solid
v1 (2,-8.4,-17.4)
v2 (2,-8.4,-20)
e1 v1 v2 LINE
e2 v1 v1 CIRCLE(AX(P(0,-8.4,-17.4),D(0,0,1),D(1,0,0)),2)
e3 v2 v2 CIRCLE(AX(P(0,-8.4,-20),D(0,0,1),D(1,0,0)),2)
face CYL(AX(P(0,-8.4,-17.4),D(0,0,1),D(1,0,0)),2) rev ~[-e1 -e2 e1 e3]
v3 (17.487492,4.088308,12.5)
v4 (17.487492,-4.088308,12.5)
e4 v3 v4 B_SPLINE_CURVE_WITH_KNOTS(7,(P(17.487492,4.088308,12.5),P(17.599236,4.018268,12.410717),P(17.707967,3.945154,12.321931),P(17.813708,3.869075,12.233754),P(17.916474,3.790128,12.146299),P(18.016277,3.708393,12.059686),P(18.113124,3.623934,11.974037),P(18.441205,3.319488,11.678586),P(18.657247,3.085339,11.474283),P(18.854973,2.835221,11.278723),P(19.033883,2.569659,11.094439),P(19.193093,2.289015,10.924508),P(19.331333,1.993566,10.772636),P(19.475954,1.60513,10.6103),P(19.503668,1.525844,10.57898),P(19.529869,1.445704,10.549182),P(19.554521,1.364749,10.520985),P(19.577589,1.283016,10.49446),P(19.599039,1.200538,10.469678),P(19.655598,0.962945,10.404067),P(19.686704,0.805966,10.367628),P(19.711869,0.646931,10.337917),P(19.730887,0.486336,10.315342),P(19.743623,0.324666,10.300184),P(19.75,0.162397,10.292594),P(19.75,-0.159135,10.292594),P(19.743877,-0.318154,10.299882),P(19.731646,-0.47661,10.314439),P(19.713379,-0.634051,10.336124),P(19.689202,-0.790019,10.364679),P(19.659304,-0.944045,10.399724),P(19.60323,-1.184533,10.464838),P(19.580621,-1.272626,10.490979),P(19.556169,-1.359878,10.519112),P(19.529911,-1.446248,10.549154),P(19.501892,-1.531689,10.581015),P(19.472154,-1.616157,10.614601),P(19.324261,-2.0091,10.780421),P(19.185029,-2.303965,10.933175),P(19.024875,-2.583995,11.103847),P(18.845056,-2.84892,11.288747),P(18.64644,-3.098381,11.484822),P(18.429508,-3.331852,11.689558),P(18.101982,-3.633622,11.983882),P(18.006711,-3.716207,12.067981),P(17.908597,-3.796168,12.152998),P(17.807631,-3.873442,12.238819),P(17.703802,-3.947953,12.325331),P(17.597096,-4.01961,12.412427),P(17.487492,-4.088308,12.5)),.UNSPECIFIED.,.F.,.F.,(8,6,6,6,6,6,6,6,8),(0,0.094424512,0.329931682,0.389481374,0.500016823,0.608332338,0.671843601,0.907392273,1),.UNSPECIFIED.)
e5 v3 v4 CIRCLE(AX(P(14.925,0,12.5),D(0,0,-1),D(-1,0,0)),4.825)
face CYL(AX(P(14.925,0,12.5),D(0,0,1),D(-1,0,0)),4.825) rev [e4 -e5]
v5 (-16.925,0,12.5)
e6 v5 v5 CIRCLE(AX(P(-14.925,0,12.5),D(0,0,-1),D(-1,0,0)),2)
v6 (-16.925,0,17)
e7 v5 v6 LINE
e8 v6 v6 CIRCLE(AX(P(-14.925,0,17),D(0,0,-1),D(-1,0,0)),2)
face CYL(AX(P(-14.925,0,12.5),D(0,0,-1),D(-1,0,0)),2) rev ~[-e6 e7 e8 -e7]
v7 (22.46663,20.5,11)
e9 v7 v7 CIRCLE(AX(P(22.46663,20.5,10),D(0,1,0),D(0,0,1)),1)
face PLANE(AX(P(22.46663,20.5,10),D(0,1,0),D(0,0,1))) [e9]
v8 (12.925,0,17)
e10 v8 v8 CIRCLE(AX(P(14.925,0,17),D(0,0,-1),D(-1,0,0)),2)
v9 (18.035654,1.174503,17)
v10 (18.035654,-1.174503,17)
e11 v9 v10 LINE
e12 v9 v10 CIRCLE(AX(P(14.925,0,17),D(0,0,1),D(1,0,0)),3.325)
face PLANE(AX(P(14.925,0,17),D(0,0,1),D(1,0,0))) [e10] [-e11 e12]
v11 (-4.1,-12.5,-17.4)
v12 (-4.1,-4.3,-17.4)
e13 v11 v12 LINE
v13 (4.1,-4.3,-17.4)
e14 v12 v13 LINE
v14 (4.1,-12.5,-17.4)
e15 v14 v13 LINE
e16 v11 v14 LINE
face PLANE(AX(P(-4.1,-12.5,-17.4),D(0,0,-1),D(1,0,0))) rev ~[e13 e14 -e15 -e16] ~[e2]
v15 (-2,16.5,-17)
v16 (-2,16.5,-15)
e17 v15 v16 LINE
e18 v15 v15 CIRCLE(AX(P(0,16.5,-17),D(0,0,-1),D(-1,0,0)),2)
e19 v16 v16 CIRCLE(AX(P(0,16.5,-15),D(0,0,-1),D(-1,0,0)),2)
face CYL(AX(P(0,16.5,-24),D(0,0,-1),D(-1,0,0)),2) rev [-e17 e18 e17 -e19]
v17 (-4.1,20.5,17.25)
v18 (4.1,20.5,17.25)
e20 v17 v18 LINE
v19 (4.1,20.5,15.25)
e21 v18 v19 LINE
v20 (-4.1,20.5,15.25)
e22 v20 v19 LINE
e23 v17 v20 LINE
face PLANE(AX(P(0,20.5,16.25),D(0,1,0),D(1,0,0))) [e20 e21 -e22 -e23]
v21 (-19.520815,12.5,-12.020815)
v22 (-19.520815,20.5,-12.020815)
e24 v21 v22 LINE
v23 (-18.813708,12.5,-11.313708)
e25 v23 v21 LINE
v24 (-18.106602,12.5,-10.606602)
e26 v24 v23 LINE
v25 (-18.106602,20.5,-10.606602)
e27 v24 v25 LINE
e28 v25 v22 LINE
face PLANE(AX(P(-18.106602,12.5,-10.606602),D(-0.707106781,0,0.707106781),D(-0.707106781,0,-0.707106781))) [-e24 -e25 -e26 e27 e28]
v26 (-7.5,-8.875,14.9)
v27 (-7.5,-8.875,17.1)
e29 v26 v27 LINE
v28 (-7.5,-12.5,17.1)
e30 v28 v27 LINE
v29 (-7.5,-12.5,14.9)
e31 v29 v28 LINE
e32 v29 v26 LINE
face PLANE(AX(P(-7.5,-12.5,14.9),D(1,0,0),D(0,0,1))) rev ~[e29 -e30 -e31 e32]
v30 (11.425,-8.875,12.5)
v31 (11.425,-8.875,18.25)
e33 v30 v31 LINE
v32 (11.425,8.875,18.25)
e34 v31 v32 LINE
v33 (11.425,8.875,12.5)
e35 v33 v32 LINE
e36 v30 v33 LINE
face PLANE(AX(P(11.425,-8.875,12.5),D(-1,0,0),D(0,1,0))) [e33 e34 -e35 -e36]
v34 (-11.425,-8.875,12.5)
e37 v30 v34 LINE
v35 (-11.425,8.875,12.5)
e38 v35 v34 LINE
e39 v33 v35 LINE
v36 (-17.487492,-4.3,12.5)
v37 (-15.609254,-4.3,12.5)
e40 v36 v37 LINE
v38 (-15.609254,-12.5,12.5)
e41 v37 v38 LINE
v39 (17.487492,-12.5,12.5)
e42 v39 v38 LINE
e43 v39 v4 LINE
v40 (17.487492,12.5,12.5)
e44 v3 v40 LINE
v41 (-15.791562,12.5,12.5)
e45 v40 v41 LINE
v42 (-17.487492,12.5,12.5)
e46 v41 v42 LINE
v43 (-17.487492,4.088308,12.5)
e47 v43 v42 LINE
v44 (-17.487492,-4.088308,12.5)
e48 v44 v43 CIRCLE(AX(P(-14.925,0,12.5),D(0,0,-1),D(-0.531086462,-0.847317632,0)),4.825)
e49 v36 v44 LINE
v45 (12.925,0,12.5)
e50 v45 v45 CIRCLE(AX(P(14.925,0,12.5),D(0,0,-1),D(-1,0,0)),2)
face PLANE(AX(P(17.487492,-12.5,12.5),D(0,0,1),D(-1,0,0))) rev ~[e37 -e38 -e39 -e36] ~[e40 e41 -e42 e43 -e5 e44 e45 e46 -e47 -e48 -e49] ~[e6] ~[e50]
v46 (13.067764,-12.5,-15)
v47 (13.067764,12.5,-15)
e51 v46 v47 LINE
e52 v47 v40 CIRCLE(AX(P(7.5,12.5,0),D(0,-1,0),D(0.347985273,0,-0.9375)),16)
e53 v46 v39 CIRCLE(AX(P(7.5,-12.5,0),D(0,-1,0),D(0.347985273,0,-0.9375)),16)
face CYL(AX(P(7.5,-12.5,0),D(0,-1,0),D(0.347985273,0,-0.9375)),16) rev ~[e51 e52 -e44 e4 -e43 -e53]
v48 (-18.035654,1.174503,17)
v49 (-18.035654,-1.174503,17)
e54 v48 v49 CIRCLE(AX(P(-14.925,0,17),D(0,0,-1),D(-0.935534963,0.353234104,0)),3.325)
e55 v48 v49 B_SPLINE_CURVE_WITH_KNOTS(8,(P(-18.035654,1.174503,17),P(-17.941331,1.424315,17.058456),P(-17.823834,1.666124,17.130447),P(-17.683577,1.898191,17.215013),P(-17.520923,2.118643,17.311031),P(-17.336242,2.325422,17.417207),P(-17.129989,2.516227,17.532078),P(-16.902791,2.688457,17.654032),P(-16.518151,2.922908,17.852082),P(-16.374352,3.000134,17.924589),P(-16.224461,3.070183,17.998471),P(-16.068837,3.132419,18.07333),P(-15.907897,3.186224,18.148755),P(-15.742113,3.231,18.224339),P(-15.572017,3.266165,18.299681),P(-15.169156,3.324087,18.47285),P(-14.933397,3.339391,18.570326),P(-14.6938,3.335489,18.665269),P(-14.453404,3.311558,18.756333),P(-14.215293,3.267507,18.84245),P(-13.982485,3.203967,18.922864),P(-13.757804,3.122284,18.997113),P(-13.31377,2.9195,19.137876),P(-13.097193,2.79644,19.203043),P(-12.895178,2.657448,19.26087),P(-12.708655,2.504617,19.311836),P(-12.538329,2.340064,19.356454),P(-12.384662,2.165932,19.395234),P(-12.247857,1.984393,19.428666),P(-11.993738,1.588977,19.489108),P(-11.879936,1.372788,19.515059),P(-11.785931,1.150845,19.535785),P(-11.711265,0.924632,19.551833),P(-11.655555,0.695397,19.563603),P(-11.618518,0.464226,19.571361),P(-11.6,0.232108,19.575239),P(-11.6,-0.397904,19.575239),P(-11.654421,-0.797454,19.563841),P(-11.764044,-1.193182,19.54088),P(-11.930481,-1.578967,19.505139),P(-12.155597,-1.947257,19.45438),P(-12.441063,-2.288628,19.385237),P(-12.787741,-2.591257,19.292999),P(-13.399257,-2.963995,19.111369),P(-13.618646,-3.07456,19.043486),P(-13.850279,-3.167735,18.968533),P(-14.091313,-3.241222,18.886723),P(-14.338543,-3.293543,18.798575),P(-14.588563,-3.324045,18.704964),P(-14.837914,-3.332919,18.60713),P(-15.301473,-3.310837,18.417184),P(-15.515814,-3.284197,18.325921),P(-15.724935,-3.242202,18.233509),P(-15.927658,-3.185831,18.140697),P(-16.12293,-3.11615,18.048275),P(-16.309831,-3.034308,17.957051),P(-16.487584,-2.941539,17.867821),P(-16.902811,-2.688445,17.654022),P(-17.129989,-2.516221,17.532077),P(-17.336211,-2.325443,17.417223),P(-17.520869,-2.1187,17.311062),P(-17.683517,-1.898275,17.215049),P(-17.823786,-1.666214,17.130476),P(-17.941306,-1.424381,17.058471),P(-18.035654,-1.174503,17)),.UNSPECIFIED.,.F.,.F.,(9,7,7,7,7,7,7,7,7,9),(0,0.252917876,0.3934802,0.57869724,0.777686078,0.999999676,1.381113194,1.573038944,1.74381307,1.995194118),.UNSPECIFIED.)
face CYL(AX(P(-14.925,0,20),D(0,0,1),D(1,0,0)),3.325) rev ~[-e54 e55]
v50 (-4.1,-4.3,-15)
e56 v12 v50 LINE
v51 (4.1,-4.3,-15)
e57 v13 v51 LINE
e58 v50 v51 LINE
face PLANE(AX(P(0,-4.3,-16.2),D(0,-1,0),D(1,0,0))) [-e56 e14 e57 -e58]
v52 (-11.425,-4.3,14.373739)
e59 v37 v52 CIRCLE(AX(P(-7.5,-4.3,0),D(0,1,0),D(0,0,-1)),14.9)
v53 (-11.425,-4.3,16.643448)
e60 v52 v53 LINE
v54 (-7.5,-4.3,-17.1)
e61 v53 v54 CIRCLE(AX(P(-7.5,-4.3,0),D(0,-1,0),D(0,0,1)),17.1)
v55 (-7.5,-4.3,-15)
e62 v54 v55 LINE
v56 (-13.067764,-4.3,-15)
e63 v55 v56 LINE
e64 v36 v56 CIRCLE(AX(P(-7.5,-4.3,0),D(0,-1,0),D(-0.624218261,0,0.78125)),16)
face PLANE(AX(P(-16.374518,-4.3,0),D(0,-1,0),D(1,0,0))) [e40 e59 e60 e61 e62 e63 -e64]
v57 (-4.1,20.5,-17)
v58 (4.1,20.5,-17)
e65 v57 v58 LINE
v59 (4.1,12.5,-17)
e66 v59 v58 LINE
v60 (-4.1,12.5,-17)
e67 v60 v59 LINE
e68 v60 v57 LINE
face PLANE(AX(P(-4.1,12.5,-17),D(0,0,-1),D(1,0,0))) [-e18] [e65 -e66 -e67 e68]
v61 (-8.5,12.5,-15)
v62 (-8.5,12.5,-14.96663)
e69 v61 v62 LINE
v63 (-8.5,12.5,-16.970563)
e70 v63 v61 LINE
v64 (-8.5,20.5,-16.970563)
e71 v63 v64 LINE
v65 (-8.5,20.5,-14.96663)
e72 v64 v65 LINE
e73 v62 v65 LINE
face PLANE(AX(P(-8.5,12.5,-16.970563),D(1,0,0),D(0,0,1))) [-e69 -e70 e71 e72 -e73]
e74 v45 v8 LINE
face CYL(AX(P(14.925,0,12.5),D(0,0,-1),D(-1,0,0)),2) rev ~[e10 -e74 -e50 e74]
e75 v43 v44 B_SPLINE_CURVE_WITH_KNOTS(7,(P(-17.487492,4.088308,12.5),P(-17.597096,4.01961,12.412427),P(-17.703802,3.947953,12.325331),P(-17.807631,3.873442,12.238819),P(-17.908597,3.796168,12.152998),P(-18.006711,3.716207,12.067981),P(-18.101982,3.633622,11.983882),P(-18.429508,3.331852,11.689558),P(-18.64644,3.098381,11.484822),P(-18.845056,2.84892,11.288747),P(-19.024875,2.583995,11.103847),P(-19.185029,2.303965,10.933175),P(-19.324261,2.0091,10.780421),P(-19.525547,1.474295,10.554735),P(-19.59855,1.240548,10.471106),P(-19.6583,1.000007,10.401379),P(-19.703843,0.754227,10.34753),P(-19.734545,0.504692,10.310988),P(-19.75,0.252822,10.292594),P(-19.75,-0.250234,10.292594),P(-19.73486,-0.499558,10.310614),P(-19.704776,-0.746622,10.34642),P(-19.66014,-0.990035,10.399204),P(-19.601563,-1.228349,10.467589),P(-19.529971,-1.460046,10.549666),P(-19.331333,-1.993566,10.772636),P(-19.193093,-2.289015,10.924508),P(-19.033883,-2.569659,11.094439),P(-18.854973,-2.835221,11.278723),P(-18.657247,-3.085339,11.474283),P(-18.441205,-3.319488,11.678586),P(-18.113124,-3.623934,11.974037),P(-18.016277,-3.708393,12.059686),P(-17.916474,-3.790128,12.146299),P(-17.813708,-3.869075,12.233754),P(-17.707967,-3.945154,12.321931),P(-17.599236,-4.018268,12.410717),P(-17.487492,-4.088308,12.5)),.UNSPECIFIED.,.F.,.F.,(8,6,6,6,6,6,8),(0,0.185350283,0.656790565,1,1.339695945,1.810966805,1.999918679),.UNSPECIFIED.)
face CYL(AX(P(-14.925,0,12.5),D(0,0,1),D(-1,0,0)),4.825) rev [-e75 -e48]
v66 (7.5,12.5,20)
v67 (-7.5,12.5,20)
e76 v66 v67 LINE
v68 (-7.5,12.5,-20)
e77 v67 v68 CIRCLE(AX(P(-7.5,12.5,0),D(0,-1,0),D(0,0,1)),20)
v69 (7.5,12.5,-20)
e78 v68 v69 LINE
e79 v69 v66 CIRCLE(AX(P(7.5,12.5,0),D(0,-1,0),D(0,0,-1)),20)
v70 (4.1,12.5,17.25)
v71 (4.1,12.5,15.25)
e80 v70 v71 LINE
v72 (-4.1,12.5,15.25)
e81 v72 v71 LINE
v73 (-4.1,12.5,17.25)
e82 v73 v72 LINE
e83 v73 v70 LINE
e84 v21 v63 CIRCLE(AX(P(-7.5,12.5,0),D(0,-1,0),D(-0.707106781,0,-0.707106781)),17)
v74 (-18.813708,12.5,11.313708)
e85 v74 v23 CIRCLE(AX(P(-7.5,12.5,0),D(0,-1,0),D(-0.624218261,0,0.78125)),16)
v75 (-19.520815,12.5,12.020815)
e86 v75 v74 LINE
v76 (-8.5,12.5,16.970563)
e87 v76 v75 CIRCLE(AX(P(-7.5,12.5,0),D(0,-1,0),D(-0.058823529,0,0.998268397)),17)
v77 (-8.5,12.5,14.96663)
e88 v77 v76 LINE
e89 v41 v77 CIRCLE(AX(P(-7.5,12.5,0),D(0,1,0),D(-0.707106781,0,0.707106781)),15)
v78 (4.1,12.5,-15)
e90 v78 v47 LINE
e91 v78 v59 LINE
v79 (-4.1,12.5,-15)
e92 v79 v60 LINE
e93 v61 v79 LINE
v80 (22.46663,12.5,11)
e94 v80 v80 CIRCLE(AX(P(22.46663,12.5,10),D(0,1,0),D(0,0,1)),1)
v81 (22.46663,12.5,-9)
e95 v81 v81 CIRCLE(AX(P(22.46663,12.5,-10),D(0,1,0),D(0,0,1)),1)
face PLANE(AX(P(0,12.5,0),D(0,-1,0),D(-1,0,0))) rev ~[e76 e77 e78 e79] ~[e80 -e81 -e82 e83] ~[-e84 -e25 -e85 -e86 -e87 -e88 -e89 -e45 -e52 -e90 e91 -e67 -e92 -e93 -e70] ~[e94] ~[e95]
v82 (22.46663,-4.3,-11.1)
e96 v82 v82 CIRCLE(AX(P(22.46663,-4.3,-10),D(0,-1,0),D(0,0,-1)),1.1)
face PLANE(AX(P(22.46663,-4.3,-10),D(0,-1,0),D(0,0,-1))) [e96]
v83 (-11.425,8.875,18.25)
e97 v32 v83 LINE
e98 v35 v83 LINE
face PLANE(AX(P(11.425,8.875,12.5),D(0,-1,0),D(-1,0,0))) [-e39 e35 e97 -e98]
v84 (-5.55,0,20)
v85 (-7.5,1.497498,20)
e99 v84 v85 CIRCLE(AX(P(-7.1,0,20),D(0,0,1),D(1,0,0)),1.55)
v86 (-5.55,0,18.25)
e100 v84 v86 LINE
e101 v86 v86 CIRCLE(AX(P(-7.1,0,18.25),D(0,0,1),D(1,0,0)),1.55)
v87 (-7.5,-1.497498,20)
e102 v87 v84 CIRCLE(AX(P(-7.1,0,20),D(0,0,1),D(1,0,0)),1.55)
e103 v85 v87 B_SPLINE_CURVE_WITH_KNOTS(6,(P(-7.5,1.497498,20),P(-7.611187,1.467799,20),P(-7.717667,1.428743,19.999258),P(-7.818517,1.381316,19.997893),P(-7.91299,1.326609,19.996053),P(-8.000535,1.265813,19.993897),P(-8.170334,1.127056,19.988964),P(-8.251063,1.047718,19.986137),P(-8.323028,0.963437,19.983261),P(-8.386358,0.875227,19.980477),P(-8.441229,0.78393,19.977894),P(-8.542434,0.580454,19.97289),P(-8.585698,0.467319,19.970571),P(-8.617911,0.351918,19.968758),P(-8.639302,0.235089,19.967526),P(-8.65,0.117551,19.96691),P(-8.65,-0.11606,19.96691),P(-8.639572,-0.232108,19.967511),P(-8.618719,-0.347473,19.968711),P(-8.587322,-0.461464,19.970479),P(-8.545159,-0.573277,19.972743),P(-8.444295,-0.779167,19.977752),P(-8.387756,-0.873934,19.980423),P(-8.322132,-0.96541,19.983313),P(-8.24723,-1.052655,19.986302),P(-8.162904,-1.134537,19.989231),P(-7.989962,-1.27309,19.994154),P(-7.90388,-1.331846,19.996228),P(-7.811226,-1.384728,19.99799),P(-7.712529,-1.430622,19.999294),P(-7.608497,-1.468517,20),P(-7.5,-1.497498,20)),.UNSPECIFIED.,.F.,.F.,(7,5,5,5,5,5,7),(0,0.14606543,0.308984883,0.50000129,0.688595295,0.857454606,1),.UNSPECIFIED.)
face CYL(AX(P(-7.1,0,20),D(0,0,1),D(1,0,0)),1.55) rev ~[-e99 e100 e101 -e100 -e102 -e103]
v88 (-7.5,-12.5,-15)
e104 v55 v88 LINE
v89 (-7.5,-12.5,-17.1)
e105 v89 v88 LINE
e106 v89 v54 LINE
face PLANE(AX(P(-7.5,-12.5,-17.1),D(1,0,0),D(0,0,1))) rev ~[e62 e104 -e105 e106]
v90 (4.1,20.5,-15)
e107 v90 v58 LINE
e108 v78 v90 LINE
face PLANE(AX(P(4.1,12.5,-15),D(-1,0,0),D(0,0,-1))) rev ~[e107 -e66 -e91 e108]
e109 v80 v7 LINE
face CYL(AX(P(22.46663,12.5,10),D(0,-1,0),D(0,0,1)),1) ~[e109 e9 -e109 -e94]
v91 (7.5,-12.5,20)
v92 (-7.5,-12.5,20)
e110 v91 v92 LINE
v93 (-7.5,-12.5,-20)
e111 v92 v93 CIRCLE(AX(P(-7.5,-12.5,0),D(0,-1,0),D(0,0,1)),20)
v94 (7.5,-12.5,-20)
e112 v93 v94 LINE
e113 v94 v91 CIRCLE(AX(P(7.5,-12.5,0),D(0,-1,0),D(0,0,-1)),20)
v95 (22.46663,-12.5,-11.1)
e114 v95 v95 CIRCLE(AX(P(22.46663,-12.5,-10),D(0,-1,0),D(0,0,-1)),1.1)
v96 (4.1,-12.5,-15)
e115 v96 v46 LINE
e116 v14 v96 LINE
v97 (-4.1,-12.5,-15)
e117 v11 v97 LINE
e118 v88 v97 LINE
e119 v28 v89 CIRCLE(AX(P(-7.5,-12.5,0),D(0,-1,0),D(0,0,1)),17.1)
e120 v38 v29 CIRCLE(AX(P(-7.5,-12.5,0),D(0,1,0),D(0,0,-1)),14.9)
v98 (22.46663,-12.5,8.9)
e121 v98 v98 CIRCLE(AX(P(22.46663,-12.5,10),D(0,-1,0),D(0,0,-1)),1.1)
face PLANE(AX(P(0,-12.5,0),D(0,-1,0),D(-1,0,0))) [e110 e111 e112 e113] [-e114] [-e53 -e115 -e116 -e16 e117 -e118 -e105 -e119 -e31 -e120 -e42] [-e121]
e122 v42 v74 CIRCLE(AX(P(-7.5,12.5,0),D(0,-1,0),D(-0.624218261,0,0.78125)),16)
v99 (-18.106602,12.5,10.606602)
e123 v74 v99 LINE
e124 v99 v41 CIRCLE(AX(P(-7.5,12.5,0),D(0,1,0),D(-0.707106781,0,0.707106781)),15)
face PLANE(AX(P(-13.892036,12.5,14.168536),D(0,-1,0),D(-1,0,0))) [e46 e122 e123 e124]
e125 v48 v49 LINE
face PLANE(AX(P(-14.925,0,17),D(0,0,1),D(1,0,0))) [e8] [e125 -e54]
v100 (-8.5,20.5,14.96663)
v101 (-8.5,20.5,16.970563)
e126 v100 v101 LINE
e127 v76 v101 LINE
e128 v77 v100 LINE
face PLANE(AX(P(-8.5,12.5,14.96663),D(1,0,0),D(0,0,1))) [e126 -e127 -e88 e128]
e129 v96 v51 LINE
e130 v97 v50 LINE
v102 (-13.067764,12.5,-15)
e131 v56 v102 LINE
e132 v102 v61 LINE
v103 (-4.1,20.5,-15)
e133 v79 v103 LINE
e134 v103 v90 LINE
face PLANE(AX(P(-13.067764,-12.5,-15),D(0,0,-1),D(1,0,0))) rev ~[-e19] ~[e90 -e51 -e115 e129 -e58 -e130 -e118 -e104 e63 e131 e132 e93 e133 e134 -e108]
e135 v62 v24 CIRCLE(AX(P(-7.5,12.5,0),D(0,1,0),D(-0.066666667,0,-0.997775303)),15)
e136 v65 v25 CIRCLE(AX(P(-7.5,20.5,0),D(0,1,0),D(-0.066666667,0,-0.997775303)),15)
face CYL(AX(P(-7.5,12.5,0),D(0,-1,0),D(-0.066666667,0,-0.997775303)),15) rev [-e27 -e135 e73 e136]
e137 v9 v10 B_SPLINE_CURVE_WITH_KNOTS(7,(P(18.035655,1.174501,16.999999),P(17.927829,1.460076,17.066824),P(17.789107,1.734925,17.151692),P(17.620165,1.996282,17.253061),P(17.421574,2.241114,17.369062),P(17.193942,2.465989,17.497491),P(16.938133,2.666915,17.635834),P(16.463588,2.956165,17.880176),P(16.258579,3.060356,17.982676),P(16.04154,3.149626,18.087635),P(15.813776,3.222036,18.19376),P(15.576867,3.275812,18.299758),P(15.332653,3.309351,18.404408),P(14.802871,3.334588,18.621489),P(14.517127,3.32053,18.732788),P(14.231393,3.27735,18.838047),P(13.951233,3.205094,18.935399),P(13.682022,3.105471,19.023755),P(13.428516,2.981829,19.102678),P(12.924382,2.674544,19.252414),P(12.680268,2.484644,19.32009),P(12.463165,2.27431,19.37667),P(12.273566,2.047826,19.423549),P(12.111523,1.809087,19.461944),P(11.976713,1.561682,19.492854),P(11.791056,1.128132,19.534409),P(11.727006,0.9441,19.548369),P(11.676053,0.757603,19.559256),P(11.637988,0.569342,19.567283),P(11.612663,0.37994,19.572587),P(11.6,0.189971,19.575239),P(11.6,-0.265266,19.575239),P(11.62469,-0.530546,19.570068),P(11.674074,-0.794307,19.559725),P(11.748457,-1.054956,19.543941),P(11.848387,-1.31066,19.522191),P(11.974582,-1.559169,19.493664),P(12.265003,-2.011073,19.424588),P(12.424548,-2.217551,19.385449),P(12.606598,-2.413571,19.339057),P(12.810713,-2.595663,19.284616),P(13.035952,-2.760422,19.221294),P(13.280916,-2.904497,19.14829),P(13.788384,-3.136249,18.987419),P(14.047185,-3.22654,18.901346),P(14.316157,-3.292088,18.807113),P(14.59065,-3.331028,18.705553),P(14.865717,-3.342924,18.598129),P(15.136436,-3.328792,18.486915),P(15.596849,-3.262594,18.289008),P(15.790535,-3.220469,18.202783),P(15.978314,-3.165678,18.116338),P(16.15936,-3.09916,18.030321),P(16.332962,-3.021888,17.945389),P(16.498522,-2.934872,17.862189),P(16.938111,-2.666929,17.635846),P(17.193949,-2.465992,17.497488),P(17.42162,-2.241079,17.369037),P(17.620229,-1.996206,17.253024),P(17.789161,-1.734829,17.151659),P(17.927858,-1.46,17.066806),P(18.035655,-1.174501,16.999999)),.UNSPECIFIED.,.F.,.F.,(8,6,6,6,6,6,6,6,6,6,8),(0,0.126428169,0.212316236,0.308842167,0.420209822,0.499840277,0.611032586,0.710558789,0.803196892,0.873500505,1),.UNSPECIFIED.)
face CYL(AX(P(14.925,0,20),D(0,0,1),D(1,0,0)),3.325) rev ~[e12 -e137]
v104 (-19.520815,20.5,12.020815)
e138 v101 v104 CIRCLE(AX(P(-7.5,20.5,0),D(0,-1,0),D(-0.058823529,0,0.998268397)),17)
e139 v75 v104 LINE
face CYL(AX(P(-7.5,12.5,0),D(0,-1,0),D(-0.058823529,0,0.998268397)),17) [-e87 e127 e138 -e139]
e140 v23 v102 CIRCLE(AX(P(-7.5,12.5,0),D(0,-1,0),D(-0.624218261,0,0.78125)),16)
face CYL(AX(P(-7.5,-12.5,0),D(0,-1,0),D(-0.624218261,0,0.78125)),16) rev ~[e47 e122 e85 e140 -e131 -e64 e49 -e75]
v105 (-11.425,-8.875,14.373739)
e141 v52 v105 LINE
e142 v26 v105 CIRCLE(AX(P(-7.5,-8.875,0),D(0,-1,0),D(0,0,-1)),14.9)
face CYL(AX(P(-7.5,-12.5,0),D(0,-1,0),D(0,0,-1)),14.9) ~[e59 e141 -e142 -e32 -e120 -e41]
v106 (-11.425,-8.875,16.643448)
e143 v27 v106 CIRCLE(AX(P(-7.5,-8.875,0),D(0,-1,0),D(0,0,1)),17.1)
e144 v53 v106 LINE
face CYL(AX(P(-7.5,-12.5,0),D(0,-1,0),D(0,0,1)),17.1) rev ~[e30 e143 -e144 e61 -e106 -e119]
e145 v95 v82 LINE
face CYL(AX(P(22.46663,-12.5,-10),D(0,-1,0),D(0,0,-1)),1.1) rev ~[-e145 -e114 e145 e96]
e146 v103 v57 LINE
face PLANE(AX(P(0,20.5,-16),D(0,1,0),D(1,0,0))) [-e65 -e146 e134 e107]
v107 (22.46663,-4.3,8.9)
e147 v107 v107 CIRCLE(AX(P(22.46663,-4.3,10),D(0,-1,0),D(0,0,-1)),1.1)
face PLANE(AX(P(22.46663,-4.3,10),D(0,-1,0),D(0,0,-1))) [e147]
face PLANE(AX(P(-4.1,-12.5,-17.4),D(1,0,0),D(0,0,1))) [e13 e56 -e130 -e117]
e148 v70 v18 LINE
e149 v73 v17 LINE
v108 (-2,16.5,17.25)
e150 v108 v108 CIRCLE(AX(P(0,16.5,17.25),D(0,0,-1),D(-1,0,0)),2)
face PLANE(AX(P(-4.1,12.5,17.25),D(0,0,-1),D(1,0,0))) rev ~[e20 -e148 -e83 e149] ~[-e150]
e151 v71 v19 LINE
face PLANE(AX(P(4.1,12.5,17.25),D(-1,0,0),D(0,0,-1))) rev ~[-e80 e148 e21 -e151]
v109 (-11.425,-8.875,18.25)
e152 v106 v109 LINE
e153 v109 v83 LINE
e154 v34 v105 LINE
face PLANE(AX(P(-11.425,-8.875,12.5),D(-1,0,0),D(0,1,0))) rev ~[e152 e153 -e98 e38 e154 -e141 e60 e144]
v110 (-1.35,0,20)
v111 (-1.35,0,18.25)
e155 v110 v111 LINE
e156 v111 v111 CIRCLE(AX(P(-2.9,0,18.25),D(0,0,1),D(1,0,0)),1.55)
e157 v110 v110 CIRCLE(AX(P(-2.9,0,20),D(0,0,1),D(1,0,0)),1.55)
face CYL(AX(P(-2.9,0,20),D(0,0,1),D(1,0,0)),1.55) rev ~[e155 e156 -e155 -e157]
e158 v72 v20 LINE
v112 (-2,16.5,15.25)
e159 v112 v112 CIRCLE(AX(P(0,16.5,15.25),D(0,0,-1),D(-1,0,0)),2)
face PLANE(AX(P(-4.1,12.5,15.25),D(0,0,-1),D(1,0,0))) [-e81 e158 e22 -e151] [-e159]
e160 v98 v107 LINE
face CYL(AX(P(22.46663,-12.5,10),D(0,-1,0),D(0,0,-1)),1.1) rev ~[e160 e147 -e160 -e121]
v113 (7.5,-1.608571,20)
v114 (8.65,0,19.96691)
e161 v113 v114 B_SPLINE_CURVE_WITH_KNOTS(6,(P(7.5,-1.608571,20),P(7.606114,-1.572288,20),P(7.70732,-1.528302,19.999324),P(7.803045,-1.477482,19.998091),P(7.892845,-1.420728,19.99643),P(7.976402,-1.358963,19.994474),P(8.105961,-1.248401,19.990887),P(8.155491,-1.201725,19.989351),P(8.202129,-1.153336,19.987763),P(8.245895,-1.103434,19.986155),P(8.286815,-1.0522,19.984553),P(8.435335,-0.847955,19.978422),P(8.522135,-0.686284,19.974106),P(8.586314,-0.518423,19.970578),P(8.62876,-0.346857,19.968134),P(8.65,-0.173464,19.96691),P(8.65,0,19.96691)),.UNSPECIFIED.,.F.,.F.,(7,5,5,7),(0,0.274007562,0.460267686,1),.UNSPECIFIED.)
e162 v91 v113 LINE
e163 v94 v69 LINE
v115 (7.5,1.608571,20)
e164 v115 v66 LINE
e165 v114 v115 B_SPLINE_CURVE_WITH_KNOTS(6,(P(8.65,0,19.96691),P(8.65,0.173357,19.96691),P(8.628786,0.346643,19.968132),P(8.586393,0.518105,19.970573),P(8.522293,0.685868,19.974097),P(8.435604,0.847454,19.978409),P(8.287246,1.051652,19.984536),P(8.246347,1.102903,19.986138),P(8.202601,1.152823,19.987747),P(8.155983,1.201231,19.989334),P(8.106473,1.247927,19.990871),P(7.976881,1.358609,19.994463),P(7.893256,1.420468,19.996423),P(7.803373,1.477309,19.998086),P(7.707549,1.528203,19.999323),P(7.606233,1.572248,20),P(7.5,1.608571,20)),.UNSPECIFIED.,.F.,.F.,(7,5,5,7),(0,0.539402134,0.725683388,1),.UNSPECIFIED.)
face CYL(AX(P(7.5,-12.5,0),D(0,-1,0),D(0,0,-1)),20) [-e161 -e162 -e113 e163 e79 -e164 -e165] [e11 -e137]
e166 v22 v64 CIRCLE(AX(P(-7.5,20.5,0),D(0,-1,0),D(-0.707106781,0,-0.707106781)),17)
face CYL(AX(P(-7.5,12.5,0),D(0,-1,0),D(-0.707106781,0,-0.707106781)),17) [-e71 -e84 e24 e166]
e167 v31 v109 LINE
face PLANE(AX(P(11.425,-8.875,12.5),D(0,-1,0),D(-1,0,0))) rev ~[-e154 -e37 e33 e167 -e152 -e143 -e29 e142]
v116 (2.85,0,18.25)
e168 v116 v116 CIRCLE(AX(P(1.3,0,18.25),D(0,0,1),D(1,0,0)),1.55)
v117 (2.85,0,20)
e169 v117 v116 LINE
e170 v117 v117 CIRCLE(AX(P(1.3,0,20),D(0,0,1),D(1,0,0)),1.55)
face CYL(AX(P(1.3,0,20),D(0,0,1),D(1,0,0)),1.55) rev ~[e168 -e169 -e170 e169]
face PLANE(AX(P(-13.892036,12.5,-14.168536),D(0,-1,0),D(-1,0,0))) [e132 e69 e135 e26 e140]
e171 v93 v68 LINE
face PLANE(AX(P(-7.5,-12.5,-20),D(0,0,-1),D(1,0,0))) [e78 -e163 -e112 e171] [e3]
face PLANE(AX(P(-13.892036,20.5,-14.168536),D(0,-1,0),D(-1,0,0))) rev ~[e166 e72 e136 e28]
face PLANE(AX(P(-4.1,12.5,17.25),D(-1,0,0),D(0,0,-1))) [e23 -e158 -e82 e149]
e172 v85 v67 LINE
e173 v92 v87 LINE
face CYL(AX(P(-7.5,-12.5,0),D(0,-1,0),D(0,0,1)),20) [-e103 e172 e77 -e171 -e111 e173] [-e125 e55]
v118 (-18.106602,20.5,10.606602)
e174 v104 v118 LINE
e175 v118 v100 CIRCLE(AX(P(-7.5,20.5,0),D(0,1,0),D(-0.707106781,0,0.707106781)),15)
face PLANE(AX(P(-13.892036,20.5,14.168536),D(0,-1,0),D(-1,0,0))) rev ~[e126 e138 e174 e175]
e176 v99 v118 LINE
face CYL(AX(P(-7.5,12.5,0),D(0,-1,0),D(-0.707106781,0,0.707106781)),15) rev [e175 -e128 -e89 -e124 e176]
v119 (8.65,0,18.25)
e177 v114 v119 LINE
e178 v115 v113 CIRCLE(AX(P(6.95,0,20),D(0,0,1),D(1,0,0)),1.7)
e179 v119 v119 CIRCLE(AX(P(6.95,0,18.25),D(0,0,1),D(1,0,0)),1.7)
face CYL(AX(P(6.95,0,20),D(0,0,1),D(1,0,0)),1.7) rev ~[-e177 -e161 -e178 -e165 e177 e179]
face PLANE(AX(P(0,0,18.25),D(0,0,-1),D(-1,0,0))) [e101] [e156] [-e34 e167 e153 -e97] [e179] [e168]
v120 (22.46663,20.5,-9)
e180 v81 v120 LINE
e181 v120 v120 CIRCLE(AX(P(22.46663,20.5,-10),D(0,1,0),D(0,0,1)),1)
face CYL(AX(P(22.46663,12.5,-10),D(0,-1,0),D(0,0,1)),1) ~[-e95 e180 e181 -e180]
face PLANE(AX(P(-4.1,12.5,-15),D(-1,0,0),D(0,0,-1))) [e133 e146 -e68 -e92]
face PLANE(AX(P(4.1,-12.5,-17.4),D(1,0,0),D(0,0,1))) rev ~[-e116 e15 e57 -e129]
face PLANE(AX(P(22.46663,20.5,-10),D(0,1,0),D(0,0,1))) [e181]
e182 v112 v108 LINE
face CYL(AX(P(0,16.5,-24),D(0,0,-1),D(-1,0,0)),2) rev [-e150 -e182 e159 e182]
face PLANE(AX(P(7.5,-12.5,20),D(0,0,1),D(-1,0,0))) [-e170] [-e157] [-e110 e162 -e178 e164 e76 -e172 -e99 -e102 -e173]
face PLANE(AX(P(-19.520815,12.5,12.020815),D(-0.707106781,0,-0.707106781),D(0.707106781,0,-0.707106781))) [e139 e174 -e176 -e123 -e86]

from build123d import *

# Parameters (mm, degrees)
BOSS_EXTRUDE1_DEPTH      = 12.5
BOSS_EXTRUDE1_DEPTH_BACK = 12.5
SKETCH3_R                = 1.55
SKETCH3_R_2              = 1.7
CUT_EXTRUDE1_DEPTH       = 7.5
SKETCH4_W                = 22.85
SKETCH4_H                = 17.75
CUT_EXTRUDE2_DEPTH       = 5.75
SKETCH5_R                = 2
CUT_EXTRUDE3_DEPTH       = 5.75
SKETCH6_R                = 3.325
CUT_EXTRUDE4_DEPTH       = 3
SKETCH7_R                = 4.825
CUT_EXTRUDE5_DEPTH       = 3
SKETCH9_R                = 1.1
SKETCH9_W                = 8.2
SKETCH9_H                = 2.4
CUT_EXTRUDE6_DEPTH       = 8.2
SKETCH10_R               = 2
CUT_EXTRUDE7_DEPTH       = 8.2
SKETCH11_R               = 1
SKETCH11_W               = 8.2
SKETCH11_H               = 2
BOSS_EXTRUDE2_DEPTH      = 8
CUT_EXTRUDE8_DEPTH       = 23
CUT_EXTRUDE8_DEPTH_BACK  = 24
SKETCH13_R               = 2


with BuildPart() as part:
    # Sketch1 → Boss-Extrude1 (new, two sides: drawn at the far end of the back side and taken through both)
    with BuildSketch(Plane(origin=(0, 0, 0), x_dir=(1, 0, 0), z_dir=(0, 1, 0)).offset(-BOSS_EXTRUDE1_DEPTH_BACK)):
        with BuildLine():
            Line((7.5, -20), (-7.5, -20))
            ThreePointArc((-7.5, -20), (-27.5, 0), (-7.5, 20))
            Line((-7.5, 20), (7.5, 20))
            ThreePointArc((7.5, 20), (27.5, 0), (7.5, -20))
        make_face()
        with BuildLine():
            Line((-13.067764363, 15), (13.067764363, 15))
            ThreePointArc((13.067764363, 15), (23.297278294, 2.538897101), (17.487492178, -12.5))
            Line((17.487492178, -12.5), (-17.487492178, -12.5))
            ThreePointArc((-17.487492178, -12.5), (-23.297278294, 2.538897101), (-13.067764363, 15))
        make_face(mode=Mode.SUBTRACT)
    extrude(amount=BOSS_EXTRUDE1_DEPTH + BOSS_EXTRUDE1_DEPTH_BACK)

    # Sketch3 → Cut-Extrude1 (cut)
    with BuildSketch(Plane.XY.offset(20)):
        with Locations((-7.1, 0)):
            Circle(SKETCH3_R)
        with Locations((-2.9, 0)):
            Circle(SKETCH3_R)
        with Locations((1.3, 0)):
            Circle(SKETCH3_R)
        with Locations((6.95, 0)):
            Circle(SKETCH3_R_2)
    extrude(amount=-CUT_EXTRUDE1_DEPTH, mode=Mode.SUBTRACT)

    # Sketch4 → Cut-Extrude2 (cut)
    with BuildSketch(Plane(origin=(0, 0, 12.5), x_dir=(-1, 0, 0), z_dir=(0, 0, -1))):
        Rectangle(SKETCH4_W, SKETCH4_H)
    extrude(amount=-CUT_EXTRUDE2_DEPTH, mode=Mode.SUBTRACT)

    # Sketch5 → Cut-Extrude3 (cut)
    with BuildSketch(Plane(origin=(0, 0, 12.5), x_dir=(-1, 0, 0), z_dir=(0, 0, -1))):
        with Locations((14.925, 0)):
            Circle(SKETCH5_R)
        with Locations((-14.925, 0)):
            Circle(SKETCH5_R)
    extrude(amount=-CUT_EXTRUDE3_DEPTH, mode=Mode.SUBTRACT)

    # Sketch6 → Cut-Extrude4 (cut)
    with BuildSketch(Plane.XY.offset(20)):
        with Locations((-14.925, 0)):
            Circle(SKETCH6_R)
        with Locations((14.925, 0)):
            Circle(SKETCH6_R)
    extrude(amount=-CUT_EXTRUDE4_DEPTH, mode=Mode.SUBTRACT)

    # Sketch7 → Cut-Extrude5 (cut)
    with BuildSketch(Plane(origin=(0, 0, 12.5), x_dir=(-1, 0, 0), z_dir=(0, 0, -1))):
        with Locations((14.925, 0)):
            Circle(SKETCH7_R)
        with Locations((-14.925, 0)):
            Circle(SKETCH7_R)
    extrude(amount=CUT_EXTRUDE5_DEPTH, mode=Mode.SUBTRACT)

    # Sketch9 → Cut-Extrude6 (cut)
    with BuildSketch(Plane.XZ.offset(12.5)):
        with Locations((22.466629547, 10)):
            Circle(SKETCH9_R)
        with Locations((22.466629547, -10)):
            Circle(SKETCH9_R)
        with Locations((0, -16.2)):
            Rectangle(SKETCH9_W, SKETCH9_H)
        with BuildLine():
            Line((-7.5, 14.9), (-7.5, 17.1))
            ThreePointArc((-7.5, 17.1), (-24.6, 0), (-7.5, -17.1))
            Line((-7.5, -17.1), (-7.5, -14.9))
            ThreePointArc((-7.5, -14.9), (-22.4, 0), (-7.5, 14.9))
        make_face()
    extrude(amount=-CUT_EXTRUDE6_DEPTH, mode=Mode.SUBTRACT)

    # Sketch10 → Cut-Extrude7 (cut)
    with BuildSketch(Plane.XY.offset(-17.4)):
        with Locations((0, -8.4)):
            Circle(SKETCH10_R)
    extrude(amount=-CUT_EXTRUDE7_DEPTH, mode=Mode.SUBTRACT)

    # Sketch11 → Boss-Extrude2 (add)
    with BuildSketch(Plane(origin=(0, 12.5, 0), x_dir=(1, 0, 0), z_dir=(0, 1, 0))):
        with Locations((22.466629547, -10)):
            Circle(SKETCH11_R)
        with Locations((22.466629547, 10)):
            Circle(SKETCH11_R)
        with BuildLine():
            Line((-8.5, -14.966629547), (-8.5, -16.970562748))
            ThreePointArc((-8.5, -16.970562748), (-14.464941324, -15.50772686), (-19.52081528, -12.02081528))
            Line((-19.52081528, -12.02081528), (-18.106601718, -10.606601718))
            ThreePointArc((-18.106601718, -10.606601718), (-13.699254917, -13.659035049), (-8.5, -14.966629547))
        make_face()
        with BuildLine():
            Line((-18.106601718, 10.606601718), (-19.52081528, 12.02081528))
            ThreePointArc((-19.52081528, 12.02081528), (-14.464941324, 15.50772686), (-8.5, 16.970562748))
            Line((-8.5, 16.970562748), (-8.5, 14.966629547))
            ThreePointArc((-8.5, 14.966629547), (-13.699254917, 13.659035049), (-18.106601718, 10.606601718))
        make_face()
        with Locations((0, 16)):
            Rectangle(SKETCH11_W, SKETCH11_H)
        with Locations((0, -16.25)):
            Rectangle(SKETCH11_W, SKETCH11_H)
    extrude(amount=BOSS_EXTRUDE2_DEPTH)

    # Sketch13 → Cut-Extrude8 (cut, two sides: drawn at the far end of the back side and taken through both)
    with BuildSketch(Plane.XY.offset(-CUT_EXTRUDE8_DEPTH_BACK)):
        with Locations((0, 16.5)):
            Circle(SKETCH13_R)
    extrude(amount=CUT_EXTRUDE8_DEPTH + CUT_EXTRUDE8_DEPTH_BACK, mode=Mode.SUBTRACT)


solid = part.part
